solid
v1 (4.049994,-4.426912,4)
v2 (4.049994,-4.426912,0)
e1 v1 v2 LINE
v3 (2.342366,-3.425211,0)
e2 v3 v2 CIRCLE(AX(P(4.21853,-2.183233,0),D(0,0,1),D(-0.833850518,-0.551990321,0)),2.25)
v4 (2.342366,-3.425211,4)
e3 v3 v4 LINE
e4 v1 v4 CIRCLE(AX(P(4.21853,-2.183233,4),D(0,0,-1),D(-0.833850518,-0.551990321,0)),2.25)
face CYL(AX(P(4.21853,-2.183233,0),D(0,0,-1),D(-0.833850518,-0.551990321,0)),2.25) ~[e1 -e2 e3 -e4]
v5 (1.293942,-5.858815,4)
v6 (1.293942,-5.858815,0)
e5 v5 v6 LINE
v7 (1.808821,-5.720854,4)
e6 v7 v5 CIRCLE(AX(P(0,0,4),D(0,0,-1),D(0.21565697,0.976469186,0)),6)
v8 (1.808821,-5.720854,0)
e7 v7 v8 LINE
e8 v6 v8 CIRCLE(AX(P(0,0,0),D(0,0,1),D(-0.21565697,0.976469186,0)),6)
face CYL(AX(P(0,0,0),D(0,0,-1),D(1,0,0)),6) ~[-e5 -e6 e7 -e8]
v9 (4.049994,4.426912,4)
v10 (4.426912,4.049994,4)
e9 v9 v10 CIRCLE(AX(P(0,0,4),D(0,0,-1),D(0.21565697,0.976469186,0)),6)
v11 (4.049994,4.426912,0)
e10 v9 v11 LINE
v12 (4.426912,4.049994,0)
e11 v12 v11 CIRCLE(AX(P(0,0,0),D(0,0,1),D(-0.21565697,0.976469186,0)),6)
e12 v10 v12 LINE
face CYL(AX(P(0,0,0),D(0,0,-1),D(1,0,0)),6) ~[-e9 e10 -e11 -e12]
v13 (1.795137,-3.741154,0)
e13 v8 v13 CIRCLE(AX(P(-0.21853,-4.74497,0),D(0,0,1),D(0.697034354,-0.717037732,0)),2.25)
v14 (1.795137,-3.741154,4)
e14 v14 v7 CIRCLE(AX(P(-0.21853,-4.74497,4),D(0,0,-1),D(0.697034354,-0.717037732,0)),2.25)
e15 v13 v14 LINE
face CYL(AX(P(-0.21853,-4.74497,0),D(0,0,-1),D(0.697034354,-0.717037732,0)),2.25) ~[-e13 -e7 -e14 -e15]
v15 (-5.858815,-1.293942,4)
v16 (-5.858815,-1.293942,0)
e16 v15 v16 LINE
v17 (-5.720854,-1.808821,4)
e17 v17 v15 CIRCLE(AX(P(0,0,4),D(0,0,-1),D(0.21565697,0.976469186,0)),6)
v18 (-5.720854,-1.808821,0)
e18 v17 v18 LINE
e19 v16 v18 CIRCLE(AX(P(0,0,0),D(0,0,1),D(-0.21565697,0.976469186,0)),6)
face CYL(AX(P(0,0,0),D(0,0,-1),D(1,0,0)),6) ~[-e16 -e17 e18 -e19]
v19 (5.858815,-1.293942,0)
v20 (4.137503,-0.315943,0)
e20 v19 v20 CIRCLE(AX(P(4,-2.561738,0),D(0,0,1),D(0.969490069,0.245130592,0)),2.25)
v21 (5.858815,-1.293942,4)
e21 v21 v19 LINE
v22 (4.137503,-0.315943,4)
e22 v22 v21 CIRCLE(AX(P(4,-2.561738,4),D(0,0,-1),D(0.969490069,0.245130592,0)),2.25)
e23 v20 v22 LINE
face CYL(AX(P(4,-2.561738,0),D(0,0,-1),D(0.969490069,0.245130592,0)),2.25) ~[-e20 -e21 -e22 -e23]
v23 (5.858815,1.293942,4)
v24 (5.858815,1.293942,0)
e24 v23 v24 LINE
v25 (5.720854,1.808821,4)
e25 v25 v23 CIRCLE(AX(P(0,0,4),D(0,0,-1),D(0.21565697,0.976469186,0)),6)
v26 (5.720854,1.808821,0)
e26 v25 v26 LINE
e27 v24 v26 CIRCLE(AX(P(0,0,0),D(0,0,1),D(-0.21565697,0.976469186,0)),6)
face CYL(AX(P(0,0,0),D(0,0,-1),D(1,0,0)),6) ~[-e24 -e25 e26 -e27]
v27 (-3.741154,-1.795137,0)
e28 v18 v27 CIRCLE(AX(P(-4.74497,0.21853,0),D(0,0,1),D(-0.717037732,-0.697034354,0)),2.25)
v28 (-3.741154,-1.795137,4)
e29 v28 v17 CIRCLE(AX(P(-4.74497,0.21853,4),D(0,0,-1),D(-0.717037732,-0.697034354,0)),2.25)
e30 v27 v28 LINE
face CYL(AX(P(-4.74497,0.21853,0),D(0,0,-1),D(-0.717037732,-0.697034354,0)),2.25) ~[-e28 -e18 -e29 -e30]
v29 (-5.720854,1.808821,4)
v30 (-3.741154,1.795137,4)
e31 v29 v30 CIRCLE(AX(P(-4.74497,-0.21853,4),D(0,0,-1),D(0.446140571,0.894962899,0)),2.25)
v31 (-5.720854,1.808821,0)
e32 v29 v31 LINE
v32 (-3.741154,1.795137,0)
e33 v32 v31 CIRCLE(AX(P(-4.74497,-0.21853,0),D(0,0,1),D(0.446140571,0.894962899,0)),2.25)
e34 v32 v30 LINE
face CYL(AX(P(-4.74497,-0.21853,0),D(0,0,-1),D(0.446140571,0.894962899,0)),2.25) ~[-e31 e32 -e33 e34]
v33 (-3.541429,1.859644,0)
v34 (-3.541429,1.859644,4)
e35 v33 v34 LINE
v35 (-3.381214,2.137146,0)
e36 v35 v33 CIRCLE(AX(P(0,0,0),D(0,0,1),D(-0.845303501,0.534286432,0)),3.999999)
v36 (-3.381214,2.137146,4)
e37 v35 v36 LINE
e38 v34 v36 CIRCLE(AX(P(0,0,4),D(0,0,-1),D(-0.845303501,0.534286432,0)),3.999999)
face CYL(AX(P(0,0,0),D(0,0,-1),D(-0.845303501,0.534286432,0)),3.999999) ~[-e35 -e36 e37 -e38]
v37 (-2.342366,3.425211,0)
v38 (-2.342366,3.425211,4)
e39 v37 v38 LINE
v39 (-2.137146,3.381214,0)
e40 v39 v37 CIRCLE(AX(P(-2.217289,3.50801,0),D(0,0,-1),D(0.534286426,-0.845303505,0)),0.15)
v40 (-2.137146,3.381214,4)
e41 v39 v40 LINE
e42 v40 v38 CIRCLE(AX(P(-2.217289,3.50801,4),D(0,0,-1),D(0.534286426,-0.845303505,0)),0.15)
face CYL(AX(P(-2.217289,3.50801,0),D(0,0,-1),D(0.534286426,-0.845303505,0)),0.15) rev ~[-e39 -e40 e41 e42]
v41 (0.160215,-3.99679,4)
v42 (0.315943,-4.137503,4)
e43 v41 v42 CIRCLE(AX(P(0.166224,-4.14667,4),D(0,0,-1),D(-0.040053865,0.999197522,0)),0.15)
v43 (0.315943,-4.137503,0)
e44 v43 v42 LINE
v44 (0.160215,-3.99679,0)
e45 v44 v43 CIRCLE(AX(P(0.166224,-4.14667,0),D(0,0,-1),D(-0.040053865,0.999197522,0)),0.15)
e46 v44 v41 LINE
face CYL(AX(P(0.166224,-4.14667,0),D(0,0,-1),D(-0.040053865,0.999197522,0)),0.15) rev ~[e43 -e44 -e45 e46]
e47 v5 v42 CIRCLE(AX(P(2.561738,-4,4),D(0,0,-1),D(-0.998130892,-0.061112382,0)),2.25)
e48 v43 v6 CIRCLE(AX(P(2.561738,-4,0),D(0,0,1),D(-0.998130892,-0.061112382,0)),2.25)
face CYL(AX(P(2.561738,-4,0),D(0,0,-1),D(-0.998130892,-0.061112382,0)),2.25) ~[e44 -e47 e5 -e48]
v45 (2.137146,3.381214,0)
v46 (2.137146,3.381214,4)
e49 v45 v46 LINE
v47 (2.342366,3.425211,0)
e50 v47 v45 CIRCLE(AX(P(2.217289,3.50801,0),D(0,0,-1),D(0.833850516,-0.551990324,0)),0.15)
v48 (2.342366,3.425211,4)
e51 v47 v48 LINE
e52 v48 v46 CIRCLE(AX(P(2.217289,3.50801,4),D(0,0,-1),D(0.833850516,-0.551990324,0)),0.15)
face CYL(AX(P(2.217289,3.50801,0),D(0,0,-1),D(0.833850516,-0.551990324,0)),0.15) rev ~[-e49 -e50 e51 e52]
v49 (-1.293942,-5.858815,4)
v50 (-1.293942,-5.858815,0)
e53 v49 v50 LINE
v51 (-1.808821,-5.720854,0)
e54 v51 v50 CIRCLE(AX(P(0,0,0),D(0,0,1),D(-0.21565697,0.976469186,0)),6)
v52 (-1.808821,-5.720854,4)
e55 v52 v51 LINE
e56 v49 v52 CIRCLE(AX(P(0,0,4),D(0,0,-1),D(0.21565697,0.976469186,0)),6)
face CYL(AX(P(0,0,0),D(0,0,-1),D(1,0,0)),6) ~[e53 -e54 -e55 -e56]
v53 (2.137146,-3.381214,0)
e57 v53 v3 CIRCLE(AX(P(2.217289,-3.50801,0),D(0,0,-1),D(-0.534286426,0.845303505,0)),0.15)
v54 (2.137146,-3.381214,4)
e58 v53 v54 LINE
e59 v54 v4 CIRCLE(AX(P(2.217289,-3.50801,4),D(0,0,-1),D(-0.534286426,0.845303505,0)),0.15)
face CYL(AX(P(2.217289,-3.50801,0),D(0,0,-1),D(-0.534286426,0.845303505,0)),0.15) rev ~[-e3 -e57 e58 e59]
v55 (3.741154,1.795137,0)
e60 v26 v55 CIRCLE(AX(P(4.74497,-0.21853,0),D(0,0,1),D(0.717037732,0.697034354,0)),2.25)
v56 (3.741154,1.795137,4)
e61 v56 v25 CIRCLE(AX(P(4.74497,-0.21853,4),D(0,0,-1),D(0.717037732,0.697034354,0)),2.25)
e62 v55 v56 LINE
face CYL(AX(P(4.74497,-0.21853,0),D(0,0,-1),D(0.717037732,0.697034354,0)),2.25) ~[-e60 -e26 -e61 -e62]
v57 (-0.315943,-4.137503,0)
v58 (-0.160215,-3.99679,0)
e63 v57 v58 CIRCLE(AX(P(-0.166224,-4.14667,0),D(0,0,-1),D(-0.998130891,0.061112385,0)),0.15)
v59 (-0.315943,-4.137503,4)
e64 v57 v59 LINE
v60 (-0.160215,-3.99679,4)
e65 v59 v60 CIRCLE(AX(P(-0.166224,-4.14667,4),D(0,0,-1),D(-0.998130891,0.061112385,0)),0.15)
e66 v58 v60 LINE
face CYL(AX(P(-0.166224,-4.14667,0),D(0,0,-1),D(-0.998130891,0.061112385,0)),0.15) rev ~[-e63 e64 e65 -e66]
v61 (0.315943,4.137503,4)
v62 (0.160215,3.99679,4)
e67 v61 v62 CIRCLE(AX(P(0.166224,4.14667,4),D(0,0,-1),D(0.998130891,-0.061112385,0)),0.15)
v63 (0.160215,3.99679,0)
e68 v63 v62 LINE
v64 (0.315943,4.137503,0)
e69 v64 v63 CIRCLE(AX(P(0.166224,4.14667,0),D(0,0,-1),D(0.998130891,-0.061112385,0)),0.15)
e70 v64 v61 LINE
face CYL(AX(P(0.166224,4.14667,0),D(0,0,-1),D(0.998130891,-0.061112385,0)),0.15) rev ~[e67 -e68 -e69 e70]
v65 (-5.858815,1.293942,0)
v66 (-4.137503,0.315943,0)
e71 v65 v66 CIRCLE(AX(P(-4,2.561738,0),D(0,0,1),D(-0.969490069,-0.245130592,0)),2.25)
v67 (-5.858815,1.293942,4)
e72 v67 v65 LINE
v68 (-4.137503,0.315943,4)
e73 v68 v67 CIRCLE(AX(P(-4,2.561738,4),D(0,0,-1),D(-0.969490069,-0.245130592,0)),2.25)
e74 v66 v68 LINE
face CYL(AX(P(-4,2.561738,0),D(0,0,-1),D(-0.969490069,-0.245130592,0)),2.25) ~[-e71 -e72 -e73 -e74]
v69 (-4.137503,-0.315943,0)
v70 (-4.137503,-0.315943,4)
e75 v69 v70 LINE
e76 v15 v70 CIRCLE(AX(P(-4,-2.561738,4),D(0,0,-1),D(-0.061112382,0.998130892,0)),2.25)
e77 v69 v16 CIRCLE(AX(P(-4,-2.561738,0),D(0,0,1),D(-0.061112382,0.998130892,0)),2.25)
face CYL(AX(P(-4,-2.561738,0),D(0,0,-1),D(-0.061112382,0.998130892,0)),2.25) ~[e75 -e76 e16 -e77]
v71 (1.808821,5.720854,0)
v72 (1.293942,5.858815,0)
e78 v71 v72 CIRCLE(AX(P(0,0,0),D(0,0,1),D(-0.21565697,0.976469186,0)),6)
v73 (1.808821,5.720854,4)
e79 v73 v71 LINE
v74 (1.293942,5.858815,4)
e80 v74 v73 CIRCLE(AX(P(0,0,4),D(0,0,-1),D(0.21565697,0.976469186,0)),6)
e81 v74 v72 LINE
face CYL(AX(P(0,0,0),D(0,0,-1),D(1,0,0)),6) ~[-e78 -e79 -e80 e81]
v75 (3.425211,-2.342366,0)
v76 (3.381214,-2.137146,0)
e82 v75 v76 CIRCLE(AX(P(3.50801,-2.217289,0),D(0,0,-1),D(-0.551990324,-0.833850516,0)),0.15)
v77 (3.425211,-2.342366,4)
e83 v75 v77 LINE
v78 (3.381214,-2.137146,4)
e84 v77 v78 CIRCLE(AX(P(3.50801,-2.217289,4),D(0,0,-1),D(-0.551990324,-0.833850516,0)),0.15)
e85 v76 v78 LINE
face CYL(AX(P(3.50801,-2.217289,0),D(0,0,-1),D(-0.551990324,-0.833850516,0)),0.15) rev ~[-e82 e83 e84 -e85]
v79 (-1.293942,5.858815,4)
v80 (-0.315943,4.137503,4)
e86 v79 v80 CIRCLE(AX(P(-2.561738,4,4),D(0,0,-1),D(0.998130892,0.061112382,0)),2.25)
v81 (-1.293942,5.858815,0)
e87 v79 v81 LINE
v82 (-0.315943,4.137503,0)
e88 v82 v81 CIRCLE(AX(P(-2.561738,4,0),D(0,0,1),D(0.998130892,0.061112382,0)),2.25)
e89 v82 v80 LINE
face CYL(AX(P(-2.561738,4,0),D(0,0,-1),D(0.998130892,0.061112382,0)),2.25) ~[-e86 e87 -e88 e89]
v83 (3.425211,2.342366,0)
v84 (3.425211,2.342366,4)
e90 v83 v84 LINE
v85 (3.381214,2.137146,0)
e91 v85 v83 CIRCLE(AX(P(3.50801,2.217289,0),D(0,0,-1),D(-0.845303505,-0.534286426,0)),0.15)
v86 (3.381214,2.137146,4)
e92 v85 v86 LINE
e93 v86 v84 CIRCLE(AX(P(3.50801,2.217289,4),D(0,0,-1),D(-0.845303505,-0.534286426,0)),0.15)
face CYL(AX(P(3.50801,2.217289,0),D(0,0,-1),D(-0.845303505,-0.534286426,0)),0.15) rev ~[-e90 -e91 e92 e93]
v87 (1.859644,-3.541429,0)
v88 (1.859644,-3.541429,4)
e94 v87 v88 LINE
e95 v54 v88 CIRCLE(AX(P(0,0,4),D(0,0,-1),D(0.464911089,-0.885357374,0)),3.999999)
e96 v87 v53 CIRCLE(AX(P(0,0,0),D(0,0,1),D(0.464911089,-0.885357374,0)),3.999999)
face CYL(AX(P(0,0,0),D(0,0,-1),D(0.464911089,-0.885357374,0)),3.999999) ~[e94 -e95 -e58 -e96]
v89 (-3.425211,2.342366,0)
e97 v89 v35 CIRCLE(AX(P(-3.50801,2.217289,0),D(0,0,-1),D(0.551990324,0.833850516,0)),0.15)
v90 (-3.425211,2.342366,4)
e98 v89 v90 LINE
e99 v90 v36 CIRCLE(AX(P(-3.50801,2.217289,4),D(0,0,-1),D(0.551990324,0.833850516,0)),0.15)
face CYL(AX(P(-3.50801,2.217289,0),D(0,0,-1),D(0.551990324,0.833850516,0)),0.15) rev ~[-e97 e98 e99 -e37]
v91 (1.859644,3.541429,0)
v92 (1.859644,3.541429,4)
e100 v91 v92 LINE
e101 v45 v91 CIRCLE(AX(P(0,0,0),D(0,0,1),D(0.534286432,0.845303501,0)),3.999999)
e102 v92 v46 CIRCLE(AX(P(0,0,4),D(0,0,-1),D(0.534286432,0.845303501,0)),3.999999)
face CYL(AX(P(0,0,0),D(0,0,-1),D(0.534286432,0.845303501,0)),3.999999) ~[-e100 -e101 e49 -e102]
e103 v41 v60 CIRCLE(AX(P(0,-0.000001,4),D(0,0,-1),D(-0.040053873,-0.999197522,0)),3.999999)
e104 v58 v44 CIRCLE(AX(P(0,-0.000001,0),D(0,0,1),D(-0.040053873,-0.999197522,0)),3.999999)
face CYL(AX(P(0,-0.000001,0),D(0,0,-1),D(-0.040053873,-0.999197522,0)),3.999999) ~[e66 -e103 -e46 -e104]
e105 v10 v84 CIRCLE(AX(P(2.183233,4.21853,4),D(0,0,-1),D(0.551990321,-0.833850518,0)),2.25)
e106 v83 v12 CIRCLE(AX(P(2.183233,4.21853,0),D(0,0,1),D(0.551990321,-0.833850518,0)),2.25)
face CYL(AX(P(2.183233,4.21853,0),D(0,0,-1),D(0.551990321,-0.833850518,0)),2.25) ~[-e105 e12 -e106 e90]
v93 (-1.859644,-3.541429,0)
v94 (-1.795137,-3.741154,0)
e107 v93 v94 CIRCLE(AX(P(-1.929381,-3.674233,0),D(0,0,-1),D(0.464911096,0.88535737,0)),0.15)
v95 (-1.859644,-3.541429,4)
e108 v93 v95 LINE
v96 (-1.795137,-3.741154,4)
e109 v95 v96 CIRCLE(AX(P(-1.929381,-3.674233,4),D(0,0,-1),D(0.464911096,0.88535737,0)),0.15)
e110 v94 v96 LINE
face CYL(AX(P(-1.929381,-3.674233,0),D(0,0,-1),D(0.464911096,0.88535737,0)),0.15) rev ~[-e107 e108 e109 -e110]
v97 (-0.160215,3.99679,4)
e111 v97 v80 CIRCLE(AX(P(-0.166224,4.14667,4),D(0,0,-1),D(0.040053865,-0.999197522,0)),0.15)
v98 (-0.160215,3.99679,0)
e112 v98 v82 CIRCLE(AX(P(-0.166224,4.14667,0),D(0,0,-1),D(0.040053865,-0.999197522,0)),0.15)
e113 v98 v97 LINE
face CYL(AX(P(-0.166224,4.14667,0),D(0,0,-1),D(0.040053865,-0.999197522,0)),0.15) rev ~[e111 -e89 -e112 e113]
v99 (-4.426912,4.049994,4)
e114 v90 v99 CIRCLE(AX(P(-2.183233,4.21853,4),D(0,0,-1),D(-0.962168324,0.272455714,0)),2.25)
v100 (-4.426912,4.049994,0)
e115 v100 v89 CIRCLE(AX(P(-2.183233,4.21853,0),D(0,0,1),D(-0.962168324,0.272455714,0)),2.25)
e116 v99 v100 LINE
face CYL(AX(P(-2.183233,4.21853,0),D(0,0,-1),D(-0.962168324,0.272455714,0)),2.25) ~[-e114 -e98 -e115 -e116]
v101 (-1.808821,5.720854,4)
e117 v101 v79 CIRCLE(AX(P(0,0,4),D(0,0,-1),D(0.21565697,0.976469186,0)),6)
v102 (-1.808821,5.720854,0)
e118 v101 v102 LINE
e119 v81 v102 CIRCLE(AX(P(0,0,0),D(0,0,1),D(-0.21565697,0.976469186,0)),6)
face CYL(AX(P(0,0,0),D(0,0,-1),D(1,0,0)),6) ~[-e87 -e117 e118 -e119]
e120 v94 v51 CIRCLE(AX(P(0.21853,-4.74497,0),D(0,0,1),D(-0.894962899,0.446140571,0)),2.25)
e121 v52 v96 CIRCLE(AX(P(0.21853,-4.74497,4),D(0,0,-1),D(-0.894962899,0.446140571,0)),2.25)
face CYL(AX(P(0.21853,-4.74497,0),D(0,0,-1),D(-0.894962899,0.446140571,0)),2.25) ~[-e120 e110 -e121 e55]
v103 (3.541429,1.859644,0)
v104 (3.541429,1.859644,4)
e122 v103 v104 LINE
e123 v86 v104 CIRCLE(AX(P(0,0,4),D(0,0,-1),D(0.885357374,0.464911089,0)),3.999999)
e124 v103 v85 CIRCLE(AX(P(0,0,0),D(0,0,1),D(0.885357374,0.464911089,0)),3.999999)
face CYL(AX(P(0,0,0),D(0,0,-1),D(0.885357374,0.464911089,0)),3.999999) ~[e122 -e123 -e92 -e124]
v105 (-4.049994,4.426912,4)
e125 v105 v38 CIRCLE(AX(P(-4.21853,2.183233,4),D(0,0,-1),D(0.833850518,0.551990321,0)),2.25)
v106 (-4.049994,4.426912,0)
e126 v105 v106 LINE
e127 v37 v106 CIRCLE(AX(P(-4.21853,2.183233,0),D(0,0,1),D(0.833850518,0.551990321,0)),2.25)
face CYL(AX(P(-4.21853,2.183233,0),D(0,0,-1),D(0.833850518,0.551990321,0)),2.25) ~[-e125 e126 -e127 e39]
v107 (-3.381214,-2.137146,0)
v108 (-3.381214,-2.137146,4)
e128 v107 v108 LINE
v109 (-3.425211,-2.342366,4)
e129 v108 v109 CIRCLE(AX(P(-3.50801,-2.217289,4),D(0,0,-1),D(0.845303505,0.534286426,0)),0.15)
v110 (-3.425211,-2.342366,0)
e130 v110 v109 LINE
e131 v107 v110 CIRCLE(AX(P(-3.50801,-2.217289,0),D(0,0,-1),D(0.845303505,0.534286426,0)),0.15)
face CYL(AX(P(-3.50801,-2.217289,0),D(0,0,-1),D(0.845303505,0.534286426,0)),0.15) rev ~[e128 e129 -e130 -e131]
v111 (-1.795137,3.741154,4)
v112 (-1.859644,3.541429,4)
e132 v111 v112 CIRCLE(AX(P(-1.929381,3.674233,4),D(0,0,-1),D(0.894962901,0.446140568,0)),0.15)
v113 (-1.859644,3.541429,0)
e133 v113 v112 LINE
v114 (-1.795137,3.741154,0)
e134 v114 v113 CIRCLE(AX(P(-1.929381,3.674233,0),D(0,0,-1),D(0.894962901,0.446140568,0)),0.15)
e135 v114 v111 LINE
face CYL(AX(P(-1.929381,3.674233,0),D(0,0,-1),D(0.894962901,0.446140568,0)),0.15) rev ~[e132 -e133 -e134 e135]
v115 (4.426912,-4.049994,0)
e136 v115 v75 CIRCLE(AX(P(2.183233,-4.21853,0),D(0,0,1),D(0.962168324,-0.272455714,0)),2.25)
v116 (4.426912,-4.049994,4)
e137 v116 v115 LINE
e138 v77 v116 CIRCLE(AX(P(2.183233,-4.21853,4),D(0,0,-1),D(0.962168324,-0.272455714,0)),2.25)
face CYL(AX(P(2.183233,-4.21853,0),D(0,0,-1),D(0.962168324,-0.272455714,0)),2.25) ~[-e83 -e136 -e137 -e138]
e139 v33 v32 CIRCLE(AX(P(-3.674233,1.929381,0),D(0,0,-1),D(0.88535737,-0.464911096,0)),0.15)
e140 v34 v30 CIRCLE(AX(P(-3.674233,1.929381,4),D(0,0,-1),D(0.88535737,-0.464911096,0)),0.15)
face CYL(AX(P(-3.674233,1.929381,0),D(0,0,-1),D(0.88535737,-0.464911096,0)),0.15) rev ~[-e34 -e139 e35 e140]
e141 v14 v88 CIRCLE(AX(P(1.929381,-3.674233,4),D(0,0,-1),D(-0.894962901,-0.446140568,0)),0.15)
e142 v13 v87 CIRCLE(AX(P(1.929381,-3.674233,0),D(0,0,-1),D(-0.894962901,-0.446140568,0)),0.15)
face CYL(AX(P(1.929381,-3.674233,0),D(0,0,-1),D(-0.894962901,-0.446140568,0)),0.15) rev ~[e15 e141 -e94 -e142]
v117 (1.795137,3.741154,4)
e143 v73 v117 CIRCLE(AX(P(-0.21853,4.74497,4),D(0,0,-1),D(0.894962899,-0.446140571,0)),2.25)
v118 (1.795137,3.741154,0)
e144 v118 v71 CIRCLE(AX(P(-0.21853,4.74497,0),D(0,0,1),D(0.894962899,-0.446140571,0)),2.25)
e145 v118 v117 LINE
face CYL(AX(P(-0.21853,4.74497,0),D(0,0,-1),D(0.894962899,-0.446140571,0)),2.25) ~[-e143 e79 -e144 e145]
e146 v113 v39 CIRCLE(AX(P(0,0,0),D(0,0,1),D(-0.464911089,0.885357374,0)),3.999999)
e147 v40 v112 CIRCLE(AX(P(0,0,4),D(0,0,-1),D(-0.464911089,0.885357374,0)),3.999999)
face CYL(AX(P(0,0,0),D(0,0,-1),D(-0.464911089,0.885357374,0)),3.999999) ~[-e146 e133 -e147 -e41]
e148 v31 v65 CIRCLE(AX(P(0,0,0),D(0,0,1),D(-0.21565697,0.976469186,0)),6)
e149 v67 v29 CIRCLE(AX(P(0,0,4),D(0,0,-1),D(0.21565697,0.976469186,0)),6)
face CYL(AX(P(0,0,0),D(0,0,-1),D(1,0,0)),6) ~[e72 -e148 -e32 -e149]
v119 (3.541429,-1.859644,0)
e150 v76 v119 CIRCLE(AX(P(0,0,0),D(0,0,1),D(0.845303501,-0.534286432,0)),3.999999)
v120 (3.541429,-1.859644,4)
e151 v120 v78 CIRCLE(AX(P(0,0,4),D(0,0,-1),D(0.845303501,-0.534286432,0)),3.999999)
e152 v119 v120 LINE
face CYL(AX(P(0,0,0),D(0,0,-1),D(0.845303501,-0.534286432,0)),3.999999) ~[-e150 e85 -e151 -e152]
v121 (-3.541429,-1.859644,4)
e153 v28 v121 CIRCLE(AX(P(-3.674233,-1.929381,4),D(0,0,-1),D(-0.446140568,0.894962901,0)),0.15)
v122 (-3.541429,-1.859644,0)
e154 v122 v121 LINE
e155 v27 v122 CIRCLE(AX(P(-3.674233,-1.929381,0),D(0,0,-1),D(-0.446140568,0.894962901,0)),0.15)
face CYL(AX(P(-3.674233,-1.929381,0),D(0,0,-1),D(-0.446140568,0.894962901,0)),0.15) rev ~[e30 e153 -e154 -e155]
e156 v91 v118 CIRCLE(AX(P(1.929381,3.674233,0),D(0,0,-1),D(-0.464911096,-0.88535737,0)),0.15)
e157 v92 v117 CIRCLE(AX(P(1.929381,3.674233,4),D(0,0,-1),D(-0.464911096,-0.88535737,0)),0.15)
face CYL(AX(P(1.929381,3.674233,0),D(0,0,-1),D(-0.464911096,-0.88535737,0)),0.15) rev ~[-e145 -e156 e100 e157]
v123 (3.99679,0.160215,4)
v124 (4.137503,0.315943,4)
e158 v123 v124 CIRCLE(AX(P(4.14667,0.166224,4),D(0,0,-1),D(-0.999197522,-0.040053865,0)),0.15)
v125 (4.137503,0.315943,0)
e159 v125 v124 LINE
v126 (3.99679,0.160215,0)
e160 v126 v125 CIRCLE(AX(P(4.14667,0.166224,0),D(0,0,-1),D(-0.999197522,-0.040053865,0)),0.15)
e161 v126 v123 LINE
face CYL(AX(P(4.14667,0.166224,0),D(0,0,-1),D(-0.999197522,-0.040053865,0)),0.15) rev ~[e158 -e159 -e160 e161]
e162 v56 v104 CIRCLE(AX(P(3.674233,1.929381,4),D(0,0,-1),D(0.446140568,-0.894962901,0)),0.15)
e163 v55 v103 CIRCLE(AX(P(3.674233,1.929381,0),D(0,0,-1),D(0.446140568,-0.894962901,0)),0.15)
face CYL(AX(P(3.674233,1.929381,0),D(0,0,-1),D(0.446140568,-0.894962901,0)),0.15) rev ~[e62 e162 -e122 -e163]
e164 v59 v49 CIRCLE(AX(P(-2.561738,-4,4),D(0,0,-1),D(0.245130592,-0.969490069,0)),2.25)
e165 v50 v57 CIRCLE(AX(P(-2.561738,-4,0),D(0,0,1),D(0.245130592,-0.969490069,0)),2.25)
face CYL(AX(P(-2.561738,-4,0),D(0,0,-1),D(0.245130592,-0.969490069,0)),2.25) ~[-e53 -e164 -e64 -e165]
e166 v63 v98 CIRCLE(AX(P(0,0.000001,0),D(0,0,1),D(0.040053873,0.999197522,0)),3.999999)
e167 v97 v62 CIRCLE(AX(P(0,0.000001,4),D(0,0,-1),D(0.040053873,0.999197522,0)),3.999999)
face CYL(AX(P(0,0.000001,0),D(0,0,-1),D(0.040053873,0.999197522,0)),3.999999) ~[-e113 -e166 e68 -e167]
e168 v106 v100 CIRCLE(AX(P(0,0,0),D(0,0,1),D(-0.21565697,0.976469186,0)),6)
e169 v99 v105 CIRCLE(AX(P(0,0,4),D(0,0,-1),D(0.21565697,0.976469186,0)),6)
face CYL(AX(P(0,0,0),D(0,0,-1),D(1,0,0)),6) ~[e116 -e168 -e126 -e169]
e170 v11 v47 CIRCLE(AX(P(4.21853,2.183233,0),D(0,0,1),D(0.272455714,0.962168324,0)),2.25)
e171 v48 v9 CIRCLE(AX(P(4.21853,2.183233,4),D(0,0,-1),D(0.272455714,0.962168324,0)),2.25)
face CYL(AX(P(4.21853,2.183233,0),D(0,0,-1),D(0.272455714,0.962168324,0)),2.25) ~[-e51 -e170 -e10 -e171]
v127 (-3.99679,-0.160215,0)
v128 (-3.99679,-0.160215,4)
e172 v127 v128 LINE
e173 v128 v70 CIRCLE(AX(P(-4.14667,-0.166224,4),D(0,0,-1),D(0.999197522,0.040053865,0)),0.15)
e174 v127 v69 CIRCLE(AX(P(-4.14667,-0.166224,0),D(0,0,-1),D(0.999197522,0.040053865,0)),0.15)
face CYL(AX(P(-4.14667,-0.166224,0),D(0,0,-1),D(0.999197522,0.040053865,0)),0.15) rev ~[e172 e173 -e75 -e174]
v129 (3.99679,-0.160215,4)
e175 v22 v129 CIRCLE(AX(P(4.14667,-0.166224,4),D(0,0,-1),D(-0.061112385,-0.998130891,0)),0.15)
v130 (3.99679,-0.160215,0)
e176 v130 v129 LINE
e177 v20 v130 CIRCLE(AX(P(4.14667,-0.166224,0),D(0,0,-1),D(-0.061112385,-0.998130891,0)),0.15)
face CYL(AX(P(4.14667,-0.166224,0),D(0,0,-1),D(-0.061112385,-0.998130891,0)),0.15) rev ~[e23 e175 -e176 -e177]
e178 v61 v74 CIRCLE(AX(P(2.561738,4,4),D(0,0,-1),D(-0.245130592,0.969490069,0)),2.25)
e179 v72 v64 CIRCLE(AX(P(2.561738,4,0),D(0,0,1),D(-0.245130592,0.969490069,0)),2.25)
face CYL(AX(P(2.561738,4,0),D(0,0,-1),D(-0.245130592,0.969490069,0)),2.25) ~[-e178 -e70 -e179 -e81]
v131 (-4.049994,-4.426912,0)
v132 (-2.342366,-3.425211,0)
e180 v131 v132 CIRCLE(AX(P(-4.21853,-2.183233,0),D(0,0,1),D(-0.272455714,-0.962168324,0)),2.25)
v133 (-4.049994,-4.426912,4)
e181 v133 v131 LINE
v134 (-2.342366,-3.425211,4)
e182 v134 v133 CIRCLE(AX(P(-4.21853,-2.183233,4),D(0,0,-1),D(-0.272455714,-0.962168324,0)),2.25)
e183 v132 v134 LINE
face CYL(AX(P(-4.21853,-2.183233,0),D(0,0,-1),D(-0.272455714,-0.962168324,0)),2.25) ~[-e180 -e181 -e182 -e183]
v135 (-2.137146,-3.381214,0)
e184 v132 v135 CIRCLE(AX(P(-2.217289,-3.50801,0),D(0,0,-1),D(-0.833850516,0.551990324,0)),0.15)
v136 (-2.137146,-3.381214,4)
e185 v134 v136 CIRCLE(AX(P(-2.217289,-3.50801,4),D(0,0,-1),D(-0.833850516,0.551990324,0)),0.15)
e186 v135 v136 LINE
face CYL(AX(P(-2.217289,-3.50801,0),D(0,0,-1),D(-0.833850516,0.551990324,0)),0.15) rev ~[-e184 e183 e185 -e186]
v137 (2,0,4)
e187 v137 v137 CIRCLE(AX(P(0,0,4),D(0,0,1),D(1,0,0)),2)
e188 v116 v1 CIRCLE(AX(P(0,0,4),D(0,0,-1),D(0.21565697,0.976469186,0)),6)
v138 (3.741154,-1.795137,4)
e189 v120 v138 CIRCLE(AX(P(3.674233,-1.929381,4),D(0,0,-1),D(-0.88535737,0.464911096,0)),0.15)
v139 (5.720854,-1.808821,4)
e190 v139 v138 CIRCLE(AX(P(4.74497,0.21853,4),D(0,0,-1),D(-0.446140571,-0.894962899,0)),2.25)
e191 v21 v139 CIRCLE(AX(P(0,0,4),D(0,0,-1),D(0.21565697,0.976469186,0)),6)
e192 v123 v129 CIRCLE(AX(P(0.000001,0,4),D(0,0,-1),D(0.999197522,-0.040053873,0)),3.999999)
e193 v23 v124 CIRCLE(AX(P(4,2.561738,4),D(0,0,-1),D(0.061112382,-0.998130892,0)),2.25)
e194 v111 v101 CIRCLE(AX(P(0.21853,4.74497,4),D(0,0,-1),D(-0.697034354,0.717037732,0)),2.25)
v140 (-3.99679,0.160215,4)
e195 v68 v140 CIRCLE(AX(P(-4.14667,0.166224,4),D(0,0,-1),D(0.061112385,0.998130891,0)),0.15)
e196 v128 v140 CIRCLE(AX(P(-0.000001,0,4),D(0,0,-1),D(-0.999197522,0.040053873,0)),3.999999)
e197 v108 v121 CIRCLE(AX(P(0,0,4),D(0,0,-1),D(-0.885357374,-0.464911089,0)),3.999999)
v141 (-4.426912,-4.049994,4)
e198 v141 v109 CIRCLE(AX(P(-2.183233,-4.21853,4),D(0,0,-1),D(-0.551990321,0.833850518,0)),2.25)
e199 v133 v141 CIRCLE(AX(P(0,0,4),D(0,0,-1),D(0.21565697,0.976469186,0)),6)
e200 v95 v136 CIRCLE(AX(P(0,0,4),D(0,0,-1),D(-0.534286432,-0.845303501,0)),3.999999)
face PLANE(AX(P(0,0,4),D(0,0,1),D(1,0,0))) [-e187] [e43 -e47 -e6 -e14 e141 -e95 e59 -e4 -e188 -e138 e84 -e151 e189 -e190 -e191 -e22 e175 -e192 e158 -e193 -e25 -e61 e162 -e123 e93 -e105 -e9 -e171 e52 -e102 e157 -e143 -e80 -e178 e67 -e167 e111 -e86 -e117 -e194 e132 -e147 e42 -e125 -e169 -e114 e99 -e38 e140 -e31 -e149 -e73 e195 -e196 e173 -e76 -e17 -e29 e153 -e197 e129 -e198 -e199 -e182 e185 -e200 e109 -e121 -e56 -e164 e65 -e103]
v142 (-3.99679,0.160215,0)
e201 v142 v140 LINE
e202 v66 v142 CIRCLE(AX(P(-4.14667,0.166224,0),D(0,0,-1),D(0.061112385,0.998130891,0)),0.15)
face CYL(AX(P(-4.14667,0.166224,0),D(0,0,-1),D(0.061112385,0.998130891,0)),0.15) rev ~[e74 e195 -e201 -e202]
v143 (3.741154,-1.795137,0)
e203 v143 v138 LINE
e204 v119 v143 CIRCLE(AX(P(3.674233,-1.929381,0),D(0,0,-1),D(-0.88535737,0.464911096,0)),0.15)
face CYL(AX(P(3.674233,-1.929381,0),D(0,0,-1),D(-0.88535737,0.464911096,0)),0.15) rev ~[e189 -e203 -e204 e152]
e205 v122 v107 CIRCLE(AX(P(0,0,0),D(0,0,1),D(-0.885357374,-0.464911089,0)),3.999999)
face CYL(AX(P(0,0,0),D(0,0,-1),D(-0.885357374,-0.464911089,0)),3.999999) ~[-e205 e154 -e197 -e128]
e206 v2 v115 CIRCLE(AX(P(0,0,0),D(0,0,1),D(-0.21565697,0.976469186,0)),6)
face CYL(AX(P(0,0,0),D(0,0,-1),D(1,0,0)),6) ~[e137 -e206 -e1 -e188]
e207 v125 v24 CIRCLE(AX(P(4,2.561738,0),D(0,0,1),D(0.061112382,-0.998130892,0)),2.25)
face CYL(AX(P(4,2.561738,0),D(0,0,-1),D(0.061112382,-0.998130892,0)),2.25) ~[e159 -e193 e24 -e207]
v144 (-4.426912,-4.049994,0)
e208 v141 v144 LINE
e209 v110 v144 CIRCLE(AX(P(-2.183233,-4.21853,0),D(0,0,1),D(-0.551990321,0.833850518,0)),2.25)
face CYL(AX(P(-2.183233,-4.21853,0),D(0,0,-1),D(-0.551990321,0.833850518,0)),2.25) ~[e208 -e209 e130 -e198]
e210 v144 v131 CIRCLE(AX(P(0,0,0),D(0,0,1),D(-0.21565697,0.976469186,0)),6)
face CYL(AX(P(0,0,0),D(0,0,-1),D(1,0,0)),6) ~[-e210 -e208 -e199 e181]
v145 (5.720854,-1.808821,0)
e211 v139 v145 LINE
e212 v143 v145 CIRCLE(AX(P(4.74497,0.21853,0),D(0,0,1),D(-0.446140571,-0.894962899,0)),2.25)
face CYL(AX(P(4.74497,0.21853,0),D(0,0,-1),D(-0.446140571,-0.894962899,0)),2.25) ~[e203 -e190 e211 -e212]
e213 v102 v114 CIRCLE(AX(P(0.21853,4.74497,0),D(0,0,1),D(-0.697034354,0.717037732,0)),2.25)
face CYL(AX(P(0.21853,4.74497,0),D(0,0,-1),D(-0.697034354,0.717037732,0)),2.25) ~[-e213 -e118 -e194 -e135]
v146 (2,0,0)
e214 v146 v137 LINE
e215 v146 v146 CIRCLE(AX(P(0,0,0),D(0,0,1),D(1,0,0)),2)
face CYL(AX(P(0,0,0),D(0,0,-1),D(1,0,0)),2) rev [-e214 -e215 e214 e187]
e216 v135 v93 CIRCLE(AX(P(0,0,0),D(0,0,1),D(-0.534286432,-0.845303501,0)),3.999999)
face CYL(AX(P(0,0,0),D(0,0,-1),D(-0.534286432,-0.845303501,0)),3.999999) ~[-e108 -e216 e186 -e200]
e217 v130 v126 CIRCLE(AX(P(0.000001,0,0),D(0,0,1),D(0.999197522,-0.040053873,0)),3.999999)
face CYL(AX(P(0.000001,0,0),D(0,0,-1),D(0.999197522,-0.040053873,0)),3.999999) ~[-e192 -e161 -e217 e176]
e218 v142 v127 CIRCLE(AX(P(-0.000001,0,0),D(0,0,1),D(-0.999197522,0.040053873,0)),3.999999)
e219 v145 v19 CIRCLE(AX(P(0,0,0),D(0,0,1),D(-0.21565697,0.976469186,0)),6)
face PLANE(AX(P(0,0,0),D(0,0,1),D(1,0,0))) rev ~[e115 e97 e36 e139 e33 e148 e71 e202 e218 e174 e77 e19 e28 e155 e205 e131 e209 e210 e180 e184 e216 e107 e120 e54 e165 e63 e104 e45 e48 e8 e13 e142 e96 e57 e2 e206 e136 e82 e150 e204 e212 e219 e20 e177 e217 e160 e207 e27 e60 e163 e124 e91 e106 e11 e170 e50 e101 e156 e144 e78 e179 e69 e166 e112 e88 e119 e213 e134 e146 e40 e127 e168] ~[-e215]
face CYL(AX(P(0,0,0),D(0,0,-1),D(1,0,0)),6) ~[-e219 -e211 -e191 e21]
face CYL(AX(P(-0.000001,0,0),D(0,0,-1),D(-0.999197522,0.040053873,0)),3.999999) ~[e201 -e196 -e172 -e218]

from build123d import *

# Parameters (mm, degrees)
SKETCH1_R           = 6
SKETCH1_R_2         = 2
BOSS_EXTRUDE1_DEPTH = 4
CUT_EXTRUDE2_DEPTH  = 5
CIRPATTERN2_COUNT   = 12


with BuildPart() as part:
    # Sketch1 → Boss-Extrude1 (new body)
    with BuildSketch(Plane.XY):
        Circle(SKETCH1_R)
        Circle(SKETCH1_R_2, mode=Mode.SUBTRACT)
    extrude(amount=BOSS_EXTRUDE1_DEPTH)

    # Sketch4 → Cut-Extrude2 (cut, through all)
    with BuildSketch(Plane.XY):
        with BuildLine():
            ThreePointArc((-0.160215471, 3.996790087), (-0.266788325, 4.035374045), (-0.315943185, 4.137502858))
            ThreePointArc((-0.315943185, 4.137502858), (-0.829511973, 5.435929685), (-2.010193861, 6.181352655))
            ThreePointArc((-2.010193861, 6.181352655), (0, 6.5), (2.010193861, 6.181352655))
            ThreePointArc((2.010193861, 6.181352655), (0.829511973, 5.435929685), (0.315943185, 4.137502858))
            ThreePointArc((0.315943185, 4.137502858), (0.266788325, 4.035374045), (0.160215471, 3.996790087))
            ThreePointArc((0.160215471, 3.996790087), (0, 4), (-0.160215471, 3.996790087))
        make_face()
    cut_extrude2 = extrude(amount=CUT_EXTRUDE2_DEPTH, mode=Mode.SUBTRACT)

    # CirPattern2: Cut-Extrude2 ×12 about axis
    cirpattern2_axis = Axis((0, 0, 0), (0, 0, 1))
    for i in range(1, CIRPATTERN2_COUNT):
        add(cut_extrude2.rotate(cirpattern2_axis, i * 360 / CIRPATTERN2_COUNT), mode=Mode.SUBTRACT)


solid = part.part
